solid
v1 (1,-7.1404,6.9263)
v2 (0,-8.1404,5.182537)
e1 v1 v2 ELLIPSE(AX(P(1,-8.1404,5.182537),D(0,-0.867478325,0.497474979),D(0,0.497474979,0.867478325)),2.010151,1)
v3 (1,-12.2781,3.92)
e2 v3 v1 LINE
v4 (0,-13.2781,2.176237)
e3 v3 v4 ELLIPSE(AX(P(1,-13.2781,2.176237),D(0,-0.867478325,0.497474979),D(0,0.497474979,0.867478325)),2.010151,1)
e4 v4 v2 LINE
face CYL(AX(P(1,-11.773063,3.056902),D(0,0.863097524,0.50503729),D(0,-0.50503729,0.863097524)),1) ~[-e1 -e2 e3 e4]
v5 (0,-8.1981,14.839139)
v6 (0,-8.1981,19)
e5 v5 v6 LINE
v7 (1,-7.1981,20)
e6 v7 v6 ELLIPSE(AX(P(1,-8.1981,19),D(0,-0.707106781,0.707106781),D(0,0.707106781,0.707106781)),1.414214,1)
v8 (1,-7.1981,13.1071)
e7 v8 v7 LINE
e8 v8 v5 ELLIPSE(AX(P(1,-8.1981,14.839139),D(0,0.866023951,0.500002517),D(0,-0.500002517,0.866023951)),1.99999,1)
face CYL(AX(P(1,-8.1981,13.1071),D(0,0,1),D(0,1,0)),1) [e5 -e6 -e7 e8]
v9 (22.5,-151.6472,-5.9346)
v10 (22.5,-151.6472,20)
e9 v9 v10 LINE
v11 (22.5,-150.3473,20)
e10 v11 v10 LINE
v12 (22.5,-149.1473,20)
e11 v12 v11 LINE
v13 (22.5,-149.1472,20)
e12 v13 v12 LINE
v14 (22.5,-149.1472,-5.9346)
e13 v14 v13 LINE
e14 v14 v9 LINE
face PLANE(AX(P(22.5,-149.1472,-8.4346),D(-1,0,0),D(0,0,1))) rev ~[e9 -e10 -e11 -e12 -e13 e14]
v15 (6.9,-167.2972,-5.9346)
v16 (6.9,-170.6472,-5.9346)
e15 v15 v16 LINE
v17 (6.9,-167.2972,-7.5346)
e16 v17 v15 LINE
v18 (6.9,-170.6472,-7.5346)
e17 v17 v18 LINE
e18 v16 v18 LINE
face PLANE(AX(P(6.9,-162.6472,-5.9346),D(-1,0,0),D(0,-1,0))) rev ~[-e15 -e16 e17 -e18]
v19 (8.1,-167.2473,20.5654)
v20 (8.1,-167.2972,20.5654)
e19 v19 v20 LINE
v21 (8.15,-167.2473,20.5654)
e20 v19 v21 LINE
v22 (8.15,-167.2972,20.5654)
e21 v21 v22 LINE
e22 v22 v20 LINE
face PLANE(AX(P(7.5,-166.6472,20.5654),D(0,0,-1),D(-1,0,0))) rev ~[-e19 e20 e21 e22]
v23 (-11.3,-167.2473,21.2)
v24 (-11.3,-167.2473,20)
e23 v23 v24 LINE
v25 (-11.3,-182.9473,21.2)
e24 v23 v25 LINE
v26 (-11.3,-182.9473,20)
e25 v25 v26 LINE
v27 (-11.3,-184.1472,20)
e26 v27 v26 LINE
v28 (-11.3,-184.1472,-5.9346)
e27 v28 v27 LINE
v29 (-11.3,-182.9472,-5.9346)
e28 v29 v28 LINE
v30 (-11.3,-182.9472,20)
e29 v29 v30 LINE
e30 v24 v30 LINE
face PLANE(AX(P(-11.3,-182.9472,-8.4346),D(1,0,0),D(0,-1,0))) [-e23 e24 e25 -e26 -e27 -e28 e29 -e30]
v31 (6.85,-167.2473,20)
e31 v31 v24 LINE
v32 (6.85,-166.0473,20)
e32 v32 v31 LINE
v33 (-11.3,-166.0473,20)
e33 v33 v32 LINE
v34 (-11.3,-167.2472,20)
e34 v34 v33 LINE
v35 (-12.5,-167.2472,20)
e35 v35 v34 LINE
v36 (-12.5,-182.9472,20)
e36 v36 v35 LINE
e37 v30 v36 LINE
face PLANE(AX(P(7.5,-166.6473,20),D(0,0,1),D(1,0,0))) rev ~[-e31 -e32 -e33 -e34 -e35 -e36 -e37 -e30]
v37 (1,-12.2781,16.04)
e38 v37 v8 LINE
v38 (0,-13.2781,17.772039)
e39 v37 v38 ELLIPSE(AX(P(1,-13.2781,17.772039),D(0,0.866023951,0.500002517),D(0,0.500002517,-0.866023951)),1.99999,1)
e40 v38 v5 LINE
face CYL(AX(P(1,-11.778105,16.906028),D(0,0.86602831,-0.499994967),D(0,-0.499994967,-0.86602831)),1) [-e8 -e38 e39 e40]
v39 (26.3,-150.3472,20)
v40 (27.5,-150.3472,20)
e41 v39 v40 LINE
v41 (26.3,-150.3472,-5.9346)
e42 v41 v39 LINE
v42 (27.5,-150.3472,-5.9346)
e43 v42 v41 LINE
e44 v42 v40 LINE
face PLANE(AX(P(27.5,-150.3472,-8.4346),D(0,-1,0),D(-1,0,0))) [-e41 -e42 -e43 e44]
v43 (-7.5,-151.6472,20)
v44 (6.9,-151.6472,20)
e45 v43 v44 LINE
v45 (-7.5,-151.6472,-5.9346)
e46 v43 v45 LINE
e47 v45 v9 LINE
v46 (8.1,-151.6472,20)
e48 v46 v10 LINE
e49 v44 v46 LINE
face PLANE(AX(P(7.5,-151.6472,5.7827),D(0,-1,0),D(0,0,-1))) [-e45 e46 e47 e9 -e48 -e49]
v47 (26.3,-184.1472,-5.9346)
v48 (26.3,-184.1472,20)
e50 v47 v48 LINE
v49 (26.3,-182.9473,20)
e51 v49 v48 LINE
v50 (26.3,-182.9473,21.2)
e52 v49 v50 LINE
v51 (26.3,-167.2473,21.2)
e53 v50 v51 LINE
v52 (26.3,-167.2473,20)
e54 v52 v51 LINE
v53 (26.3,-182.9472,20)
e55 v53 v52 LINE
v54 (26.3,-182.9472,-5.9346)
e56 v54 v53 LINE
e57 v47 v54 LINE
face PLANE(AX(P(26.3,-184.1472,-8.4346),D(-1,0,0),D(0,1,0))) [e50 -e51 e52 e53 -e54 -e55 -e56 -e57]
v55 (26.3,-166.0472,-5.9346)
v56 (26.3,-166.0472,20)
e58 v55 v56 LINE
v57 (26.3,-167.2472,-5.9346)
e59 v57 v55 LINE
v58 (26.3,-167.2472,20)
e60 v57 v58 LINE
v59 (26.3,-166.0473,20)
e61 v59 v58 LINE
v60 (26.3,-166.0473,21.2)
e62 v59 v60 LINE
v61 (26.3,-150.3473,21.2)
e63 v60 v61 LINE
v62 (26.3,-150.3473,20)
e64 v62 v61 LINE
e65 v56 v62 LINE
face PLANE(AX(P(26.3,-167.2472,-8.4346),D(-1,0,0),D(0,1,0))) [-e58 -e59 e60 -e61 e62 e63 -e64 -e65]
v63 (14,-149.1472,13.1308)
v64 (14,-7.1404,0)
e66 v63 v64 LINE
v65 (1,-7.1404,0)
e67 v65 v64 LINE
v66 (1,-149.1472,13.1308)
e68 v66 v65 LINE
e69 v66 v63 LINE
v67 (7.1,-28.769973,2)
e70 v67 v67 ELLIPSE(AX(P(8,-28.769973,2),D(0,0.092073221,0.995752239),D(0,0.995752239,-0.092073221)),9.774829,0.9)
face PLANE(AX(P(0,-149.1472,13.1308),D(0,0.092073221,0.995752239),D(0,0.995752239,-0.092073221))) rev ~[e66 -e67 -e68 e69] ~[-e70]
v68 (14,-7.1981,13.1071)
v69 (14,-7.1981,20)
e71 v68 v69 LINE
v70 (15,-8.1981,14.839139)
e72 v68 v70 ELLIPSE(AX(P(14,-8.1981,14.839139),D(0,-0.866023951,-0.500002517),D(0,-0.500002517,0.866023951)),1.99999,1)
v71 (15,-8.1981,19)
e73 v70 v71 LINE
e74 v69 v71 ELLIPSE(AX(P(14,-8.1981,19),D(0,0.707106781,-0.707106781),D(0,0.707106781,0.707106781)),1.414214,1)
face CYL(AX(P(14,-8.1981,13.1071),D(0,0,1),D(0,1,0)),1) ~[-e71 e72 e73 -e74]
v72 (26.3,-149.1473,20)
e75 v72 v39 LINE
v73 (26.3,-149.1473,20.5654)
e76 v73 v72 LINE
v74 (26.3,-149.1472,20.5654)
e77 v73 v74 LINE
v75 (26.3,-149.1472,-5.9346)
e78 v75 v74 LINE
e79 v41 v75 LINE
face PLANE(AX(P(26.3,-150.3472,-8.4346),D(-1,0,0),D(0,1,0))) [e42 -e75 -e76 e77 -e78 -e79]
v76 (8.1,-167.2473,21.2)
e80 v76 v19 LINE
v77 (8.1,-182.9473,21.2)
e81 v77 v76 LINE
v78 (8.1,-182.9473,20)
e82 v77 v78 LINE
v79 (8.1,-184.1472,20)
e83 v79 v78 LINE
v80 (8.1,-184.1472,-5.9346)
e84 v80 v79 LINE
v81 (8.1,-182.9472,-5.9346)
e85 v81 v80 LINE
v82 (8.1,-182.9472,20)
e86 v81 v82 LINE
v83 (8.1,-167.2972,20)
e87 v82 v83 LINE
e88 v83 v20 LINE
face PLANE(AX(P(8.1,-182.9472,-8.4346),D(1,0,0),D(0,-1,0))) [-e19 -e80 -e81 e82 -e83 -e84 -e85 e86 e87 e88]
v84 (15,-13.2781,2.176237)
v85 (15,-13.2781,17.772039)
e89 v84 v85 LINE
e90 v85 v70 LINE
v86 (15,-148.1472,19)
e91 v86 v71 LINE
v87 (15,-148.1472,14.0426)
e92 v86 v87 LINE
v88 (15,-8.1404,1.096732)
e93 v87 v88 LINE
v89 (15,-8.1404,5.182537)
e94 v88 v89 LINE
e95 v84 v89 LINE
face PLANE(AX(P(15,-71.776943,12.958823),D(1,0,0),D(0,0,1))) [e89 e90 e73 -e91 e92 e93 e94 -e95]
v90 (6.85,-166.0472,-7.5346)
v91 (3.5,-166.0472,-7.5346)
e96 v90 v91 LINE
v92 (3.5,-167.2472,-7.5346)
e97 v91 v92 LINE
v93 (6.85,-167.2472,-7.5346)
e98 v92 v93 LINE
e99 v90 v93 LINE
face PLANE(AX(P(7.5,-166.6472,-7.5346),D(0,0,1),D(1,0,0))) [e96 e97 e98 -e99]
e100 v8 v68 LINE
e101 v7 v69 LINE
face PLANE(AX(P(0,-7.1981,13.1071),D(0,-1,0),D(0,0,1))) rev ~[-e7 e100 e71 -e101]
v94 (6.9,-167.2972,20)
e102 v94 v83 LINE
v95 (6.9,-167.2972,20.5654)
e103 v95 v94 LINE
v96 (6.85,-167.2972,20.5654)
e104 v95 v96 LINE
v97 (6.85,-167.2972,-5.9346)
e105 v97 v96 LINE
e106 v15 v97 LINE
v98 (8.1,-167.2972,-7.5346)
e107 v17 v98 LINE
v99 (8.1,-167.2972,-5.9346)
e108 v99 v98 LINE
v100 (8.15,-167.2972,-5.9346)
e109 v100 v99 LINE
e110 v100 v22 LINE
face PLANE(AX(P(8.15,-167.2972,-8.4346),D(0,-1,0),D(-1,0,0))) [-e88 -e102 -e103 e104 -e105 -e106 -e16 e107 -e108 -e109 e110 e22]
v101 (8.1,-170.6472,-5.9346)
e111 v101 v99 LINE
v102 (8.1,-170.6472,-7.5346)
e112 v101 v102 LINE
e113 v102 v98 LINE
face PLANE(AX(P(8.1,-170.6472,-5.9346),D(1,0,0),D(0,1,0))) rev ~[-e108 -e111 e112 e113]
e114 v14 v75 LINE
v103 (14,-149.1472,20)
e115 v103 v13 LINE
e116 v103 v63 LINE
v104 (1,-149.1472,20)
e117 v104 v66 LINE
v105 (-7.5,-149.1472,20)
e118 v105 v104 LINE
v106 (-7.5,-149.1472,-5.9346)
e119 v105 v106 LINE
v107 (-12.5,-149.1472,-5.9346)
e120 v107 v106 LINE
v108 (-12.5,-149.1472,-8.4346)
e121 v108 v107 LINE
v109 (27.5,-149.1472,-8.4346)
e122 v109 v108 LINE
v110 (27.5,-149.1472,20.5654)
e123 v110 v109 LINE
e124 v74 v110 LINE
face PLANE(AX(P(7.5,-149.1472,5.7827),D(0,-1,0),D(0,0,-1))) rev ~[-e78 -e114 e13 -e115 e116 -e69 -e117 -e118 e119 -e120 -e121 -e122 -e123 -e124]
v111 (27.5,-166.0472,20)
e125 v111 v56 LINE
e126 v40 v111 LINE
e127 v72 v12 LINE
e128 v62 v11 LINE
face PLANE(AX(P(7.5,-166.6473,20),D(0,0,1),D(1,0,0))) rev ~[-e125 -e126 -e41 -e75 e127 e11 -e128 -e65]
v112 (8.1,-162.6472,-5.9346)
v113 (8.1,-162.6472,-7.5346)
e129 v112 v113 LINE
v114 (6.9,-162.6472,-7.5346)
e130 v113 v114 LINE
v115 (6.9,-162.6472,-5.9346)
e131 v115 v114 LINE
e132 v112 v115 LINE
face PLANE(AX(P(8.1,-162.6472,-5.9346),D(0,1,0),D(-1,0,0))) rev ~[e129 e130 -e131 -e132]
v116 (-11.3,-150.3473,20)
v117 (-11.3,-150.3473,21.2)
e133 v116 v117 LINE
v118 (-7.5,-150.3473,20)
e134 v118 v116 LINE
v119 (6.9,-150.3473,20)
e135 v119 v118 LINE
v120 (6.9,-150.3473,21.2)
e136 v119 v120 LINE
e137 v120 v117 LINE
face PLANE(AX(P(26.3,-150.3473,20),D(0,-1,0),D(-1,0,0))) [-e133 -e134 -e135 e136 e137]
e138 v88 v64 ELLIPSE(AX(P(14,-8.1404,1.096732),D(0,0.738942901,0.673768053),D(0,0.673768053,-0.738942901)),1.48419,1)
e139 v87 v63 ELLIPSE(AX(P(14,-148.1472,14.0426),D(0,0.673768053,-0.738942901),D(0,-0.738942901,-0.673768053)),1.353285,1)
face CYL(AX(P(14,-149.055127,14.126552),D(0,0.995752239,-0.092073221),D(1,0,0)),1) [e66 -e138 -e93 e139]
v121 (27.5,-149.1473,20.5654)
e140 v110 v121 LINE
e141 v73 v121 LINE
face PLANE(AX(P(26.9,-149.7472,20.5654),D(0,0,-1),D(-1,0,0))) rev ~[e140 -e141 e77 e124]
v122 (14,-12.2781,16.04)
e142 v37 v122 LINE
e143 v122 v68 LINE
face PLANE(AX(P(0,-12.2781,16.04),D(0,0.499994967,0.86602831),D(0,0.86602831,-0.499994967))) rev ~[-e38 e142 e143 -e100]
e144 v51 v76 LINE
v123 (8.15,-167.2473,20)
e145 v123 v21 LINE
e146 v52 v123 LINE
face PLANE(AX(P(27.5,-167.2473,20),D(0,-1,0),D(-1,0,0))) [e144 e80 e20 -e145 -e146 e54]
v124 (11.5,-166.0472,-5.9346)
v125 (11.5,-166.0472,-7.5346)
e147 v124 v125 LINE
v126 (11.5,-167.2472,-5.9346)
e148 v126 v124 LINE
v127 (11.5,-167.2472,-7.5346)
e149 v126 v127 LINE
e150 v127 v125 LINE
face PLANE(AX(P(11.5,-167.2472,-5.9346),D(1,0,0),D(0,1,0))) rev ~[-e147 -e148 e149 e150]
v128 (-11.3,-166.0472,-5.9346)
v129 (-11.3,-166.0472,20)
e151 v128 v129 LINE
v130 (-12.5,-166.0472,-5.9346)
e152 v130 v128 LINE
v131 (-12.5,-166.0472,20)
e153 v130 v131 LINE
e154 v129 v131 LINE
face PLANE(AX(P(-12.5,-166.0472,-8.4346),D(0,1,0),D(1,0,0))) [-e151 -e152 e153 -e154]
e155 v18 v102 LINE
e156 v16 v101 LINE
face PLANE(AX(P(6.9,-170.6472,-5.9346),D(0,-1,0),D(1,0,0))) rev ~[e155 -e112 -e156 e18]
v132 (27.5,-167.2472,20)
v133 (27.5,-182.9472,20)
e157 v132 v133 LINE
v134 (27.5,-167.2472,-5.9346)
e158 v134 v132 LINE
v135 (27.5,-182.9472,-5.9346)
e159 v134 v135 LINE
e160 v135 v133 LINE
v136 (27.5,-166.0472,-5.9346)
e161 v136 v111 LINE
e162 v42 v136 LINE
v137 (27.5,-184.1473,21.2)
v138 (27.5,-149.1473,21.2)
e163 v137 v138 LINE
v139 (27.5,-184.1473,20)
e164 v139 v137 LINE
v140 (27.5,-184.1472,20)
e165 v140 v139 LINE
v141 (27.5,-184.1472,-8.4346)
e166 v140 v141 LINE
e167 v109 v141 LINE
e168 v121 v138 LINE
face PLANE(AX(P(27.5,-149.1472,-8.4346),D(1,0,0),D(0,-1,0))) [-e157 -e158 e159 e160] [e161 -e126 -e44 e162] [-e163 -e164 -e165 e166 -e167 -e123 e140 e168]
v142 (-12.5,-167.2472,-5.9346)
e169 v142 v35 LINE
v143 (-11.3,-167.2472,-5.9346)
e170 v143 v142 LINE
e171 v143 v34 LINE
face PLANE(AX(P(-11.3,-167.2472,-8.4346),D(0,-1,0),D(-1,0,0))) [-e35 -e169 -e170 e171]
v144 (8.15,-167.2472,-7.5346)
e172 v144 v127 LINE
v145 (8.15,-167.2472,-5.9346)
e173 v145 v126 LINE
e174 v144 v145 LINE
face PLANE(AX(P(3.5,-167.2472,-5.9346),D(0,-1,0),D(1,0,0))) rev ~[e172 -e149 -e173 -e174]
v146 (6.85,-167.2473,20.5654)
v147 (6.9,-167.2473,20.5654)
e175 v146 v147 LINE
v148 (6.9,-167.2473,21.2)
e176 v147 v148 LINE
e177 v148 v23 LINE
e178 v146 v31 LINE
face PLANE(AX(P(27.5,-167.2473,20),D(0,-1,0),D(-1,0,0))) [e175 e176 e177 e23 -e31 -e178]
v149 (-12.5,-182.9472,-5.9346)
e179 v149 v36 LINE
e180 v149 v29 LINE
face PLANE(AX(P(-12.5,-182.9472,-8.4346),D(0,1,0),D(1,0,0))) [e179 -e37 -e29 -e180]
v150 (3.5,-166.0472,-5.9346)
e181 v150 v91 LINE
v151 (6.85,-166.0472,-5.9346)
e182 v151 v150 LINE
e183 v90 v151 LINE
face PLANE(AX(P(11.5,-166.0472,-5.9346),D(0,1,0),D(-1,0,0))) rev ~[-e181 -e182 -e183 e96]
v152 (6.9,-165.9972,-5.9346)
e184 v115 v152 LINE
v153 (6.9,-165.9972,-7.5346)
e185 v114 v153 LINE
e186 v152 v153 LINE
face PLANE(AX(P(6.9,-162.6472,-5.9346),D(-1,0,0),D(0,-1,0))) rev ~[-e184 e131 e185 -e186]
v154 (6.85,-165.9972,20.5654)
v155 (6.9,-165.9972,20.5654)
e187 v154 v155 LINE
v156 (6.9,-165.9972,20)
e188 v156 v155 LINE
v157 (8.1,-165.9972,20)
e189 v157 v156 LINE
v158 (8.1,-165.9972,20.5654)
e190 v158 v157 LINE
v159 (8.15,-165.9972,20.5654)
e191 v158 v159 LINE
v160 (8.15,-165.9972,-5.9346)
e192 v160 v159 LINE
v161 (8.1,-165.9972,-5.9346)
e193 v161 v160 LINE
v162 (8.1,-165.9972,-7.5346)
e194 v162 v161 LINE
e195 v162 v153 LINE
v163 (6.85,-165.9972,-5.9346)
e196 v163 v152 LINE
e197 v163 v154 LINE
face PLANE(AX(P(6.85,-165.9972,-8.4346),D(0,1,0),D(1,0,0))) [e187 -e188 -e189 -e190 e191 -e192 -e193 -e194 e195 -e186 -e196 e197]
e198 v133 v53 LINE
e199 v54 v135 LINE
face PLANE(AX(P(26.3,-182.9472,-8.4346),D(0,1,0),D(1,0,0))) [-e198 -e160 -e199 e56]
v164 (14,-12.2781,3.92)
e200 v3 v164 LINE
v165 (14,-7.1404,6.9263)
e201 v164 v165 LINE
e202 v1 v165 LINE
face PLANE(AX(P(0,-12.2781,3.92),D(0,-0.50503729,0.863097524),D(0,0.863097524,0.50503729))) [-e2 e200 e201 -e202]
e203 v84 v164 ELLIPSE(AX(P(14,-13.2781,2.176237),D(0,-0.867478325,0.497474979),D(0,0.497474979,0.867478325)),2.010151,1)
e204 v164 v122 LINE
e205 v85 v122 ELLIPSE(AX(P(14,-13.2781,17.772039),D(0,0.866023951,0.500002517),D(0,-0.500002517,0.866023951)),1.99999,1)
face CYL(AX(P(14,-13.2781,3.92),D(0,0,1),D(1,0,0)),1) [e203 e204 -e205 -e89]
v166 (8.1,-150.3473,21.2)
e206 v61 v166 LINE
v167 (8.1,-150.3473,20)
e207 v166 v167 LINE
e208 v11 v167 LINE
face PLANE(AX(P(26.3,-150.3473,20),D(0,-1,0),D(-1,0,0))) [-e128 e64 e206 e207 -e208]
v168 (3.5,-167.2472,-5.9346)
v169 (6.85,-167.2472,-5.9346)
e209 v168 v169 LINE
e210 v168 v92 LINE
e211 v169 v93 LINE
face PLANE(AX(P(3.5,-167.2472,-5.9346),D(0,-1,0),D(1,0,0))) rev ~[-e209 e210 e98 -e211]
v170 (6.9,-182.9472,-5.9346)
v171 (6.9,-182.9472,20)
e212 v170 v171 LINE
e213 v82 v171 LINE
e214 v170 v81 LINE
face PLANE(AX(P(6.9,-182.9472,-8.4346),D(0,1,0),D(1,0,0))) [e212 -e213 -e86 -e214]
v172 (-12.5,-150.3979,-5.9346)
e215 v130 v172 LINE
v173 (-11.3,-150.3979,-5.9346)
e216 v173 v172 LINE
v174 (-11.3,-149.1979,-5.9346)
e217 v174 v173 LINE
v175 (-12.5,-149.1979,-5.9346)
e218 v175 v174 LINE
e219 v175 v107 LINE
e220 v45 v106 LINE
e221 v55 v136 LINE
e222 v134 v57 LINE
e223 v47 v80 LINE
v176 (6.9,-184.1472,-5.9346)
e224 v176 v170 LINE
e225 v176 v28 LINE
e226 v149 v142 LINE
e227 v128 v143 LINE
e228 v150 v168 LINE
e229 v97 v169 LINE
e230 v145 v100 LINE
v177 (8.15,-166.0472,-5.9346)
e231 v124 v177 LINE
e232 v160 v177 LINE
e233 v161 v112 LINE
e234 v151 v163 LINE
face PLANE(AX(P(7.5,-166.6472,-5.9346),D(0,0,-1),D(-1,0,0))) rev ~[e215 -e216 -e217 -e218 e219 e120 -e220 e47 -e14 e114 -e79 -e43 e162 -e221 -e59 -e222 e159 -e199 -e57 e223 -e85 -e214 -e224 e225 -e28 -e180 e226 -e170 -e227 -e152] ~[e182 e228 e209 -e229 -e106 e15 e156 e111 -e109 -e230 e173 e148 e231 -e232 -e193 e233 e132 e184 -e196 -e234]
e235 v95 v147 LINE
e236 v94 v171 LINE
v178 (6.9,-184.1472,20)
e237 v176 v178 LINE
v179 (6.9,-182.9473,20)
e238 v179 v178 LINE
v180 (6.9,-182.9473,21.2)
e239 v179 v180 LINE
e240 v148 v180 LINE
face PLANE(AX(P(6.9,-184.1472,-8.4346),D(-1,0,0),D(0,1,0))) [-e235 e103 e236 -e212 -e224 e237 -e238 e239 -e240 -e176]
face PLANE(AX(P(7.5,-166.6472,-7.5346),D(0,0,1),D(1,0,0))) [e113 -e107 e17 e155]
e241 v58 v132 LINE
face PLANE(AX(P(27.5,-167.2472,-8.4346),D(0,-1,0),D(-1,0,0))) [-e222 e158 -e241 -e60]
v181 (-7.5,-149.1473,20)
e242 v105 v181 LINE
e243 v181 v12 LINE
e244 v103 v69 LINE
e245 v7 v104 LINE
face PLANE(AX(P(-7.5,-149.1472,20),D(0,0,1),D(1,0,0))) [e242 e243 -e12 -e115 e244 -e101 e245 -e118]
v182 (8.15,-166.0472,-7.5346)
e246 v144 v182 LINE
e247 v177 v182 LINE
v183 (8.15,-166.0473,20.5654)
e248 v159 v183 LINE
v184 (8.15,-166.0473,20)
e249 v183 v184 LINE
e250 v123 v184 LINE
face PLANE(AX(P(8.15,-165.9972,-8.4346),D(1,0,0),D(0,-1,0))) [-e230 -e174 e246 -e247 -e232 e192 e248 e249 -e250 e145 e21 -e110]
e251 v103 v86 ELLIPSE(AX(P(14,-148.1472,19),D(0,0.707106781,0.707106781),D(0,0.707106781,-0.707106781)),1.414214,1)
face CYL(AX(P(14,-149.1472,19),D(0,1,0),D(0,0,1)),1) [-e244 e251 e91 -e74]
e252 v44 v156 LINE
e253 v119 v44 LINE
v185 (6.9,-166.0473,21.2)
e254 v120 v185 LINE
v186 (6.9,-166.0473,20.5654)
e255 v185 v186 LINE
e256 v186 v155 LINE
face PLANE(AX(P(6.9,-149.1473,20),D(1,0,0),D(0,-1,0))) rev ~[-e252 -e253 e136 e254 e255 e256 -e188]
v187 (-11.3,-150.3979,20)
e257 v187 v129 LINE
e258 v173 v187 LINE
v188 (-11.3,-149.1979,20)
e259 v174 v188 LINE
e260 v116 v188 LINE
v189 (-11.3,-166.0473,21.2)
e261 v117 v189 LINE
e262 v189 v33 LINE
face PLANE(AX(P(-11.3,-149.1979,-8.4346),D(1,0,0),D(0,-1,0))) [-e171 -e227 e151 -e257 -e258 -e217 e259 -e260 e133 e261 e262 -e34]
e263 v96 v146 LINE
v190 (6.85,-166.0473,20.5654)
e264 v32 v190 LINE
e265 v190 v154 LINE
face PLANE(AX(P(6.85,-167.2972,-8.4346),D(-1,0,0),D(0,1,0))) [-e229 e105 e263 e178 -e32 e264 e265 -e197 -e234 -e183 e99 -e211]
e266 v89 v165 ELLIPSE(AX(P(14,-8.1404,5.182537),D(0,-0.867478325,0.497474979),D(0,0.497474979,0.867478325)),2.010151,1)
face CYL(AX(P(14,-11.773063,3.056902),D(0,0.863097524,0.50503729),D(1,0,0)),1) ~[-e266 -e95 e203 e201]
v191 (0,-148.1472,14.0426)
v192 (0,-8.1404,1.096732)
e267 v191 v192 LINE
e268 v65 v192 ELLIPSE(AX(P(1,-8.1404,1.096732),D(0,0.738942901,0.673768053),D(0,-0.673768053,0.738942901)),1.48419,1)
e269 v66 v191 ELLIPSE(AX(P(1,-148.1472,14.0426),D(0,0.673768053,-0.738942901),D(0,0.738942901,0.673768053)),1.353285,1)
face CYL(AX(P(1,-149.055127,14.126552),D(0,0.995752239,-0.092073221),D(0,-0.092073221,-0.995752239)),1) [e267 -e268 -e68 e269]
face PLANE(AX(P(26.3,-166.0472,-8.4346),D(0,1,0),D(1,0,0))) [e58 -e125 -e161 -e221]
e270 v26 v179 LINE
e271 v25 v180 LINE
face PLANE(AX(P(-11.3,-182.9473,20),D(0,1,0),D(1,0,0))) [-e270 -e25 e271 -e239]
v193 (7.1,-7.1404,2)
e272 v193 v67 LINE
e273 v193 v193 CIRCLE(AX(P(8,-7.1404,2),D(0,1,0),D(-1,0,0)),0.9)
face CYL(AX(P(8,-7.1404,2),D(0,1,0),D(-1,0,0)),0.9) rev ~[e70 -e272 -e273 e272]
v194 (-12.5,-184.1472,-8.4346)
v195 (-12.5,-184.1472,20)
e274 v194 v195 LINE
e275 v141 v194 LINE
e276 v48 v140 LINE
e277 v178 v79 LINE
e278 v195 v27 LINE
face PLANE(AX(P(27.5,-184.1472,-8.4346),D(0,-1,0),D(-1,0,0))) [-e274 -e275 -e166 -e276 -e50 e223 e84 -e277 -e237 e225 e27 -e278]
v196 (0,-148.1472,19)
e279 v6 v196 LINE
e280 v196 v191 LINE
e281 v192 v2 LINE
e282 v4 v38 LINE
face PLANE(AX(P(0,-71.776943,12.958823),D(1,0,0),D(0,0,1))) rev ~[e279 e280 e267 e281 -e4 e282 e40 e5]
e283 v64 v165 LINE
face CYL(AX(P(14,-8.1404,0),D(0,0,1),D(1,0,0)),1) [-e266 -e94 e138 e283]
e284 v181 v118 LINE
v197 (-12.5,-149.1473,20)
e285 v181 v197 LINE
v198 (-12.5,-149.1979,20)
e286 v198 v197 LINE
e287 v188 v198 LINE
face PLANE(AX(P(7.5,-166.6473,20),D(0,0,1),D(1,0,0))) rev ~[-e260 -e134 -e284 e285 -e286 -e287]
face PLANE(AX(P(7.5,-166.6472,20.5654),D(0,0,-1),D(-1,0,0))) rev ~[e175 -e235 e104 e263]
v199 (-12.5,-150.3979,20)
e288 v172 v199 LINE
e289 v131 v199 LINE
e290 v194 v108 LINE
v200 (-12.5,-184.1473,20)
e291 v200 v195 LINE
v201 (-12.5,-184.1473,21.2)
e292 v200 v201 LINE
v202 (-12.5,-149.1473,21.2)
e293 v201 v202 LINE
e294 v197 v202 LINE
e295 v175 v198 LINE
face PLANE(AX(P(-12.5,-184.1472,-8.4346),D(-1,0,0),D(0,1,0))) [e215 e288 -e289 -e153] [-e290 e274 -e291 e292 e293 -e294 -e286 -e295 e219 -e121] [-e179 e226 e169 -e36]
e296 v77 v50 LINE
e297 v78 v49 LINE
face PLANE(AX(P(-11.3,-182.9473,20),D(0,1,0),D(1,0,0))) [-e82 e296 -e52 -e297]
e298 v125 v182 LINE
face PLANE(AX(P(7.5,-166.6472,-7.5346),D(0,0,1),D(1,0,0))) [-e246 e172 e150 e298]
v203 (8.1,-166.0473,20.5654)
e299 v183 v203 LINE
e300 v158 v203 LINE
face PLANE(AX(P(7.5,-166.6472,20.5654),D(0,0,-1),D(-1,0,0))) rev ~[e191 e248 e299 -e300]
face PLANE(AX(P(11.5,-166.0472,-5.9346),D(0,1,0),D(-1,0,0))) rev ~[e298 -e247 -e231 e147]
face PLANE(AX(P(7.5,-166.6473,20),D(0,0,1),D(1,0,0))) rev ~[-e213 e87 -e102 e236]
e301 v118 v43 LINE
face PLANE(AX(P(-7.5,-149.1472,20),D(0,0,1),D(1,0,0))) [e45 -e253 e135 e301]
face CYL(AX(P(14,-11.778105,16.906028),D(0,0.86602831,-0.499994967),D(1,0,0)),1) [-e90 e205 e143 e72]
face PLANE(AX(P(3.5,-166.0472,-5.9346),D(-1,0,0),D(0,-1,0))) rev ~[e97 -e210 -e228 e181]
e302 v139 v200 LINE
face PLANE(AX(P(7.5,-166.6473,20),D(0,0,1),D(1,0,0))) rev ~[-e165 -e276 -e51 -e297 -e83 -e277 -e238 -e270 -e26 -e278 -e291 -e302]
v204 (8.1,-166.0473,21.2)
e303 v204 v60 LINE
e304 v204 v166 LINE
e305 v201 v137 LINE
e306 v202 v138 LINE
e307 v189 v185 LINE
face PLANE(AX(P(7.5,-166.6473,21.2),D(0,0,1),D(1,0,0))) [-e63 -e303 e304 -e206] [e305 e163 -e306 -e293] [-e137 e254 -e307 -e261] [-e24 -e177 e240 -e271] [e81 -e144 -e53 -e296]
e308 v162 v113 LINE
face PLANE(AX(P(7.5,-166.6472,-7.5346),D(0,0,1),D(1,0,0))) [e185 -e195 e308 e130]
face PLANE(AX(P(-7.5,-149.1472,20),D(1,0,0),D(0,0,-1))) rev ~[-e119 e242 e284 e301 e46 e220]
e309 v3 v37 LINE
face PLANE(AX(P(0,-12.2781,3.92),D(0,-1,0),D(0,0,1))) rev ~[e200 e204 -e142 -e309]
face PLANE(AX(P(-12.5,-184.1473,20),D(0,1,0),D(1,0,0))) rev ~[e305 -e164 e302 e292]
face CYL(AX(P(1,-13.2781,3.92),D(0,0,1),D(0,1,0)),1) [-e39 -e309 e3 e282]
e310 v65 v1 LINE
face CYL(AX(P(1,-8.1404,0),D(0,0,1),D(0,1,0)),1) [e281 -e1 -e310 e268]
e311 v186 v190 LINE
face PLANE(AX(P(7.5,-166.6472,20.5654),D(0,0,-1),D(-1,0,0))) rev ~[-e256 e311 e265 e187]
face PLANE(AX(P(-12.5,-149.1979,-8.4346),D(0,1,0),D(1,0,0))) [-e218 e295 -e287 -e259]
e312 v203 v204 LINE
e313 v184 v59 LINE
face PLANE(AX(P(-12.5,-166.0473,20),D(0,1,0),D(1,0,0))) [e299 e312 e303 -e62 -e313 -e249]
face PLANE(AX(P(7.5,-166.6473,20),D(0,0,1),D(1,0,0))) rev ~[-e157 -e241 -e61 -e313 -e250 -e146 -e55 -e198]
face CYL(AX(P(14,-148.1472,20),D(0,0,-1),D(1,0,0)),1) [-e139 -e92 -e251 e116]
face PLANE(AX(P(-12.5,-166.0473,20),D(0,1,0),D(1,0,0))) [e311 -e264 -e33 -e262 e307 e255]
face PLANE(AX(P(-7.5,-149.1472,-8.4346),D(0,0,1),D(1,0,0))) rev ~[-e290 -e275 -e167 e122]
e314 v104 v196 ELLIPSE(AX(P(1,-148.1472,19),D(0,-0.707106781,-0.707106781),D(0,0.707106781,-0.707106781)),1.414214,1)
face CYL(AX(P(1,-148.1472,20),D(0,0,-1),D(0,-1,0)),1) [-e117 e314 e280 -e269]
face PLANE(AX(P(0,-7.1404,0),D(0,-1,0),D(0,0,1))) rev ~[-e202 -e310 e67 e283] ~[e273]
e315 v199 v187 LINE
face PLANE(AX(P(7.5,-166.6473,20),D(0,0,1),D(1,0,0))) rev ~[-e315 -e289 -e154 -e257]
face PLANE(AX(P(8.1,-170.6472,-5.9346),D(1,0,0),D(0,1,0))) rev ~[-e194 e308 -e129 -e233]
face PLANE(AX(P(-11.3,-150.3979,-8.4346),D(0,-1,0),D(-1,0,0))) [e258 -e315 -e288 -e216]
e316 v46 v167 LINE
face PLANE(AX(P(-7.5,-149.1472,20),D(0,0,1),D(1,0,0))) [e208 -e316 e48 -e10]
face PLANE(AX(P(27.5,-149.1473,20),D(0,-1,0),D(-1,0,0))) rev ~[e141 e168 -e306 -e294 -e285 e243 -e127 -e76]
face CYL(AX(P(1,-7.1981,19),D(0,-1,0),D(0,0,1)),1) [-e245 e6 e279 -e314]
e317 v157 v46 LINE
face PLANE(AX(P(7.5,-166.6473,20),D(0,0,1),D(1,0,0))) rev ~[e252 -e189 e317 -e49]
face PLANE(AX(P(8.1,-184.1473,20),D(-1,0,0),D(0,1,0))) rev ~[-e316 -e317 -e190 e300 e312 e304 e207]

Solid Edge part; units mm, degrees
sketch "Sketch1" plane through (0, 0, 0) normal (1, 0, 0) x (0, 1, 0)
  line L0 (-7.1981, 20) -> (-142.1404, 20)
  line L1 (-142.1404, 20) -> (-149.1472, 20)
  line L2 (-149.1472, 20) -> (-149.1472, 13.1308)
  line L3 (-149.1472, 13.1308) -> (-7.1404, 0)
  line L4 (-7.1404, 0) -> (-7.1404, 6.9263)
  line L5 (-12.2781, 3.92) -> (-7.1404, 6.9263)
  line L6 (-12.2781, 3.92) -> (-12.2781, 16.04)
  line L7 (-12.2781, 16.04) -> (-7.1981, 13.1071)
  line L8 (-7.1981, 13.1071) -> (-7.1981, 20)
extrude "Protrusion1" add sketch "Sketch1" along normal blind 15
fillet "Round_2" radius 1 8 edges at (0, -7.1981, 16.5535) (0, -9.7381, 14.5735) (0, -12.2781, 9.98) (0, -9.7092, 5.4231) (0, -7.1404, 3.4631) (0, -78.1438, 6.5654) (0, -149.1472, 16.5654) (0, -78.1727, 20)
sketch "Sketch2" plane through (7.5, -7.1404, 3.4631) normal (0, 1, 0) x (-1, 0, 0)
  circle A0 centre (-0.5, -1.4631) radius 0.9
extrude "ExtrudedCutout_1" cut sketch "Sketch2" against normal blind 39
fillet "Round_4" radius 1 8 edges at (15, -7.1981, 16.5535) (15, -78.1727, 20) (15, -149.1472, 16.5654) (15, -78.1438, 6.5654) (15, -7.1404, 3.4631) (15, -9.7092, 5.4231) (15, -12.2781, 9.98) (15, -9.7381, 14.5735)
sketch "Sketch3" plane through (7.5, -149.1472, 16.5654) normal (0, -1, 0) x (0, 0, 1)
  line L0 (3.4346, 15) -> (-25, 15)
  line L1 (-25, 15) -> (-25, -15)
  line L2 (-25, -15) -> (3.4346, -15)
  line L3 (3.4346, 15) -> (3.4346, -15)
extrude "Anschlussplatte" add sketch "Sketch3" along normal blind 2.5
sketch "Sketch4" plane through (7.5, -150.3972, -8.4346) normal (0, 0, -1) x (1, 0, 0)
  line L0 (-20, -1.25) -> (20, -1.25)
  line L1 (20, -1.25) -> (20, 33.75)
  line L2 (20, 33.75) -> (-20, 33.75)
  line L3 (-20, 33.75) -> (-20, -1.25)
extrude "ExtrudedProtrusion_12" add sketch "Sketch4" against normal blind 2.5
sketch "Sketch5" plane through (7.5, -79.4227, 20) normal (0, 0, 1) x (1, 0, 0)
  line L0 (20, -69.7246) -> (-20, -69.7246)
  line L1 (-20, -69.7246) -> (-20, -104.7246)
  line L2 (-20, -104.7246) -> (20, -104.7246)
  line L3 (20, -104.7246) -> (20, -69.7246)
  line L4 (18.8, -70.9246) -> (-18.8, -70.9246)
  line L5 (-18.8, -70.9246) -> (-18.8, -103.5246)
  line L6 (-18.8, -103.5246) -> (18.8, -103.5246)
  line L7 (18.8, -103.5246) -> (18.8, -70.9246)
  line L8 (-0.6, -69.7246) -> (-0.6, -104.7246)
  line L9 (-0.6, -104.7246) -> (0.6, -104.7246)
  line L10 (0.6, -104.7246) -> (0.6, -69.7246)
  line L11 (0.6, -69.7246) -> (-0.6, -69.7246)
  line L12 (20, -87.8246) -> (-20, -87.8246)
  line L13 (-20, -87.8246) -> (-20, -86.6246)
  line L14 (-20, -86.6246) -> (20, -86.6246)
  line L15 (20, -86.6246) -> (20, -87.8246)
  dimension "D1" = 37.6
  dimension "D2" = 32.6
  dimension "D3" = 1.2
  dimension "D4" = 1.2
  dimension "D5" = 35
extrude "ExtrudedProtrusion_13" add sketch "Sketch5" along normal blind 1.2
sketch "Sketch6" plane through (7.5, -150.3972, -8.4346) normal (0, 0, -1) x (1, 0, 0)
  line L0 (-18.8, 32.55) -> (-18.8, 33.75)
  line L1 (-18.8, 33.75) -> (-20, 33.75)
  line L2 (-20, 33.75) -> (-20, 32.55)
  line L3 (-20, 32.55) -> (-18.8, 32.55)
  line L4 (-20, 16.85) -> (-20, 15.65)
  line L5 (-20, 15.65) -> (-18.8, 15.65)
  line L6 (-18.8, 15.65) -> (-18.8, 16.85)
  line L7 (-18.8, 16.85) -> (-20, 16.85)
  line L8 (18.8, 16.85) -> (18.8, 15.65)
  line L9 (18.8, 15.65) -> (20, 15.65)
  line L10 (20, 15.65) -> (20, 16.85)
  line L11 (20, 16.85) -> (18.8, 16.85)
  line L12 (18.8, 33.75) -> (18.8, 32.55)
  line L13 (18.8, 32.55) -> (20, 32.55)
  line L14 (20, 32.55) -> (20, 33.75)
  line L15 (20, 33.75) -> (18.8, 33.75)
  dimension "D1" = 40
  dimension "D2" = 35
  dimension "D3" = 1.2
  dimension "D4" = 1.2
  dimension "D5" = 1.2
  dimension "D6" = 1.2
  dimension "D7" = 1.2
  dimension "D8" = 1.2
  dimension "D9" = 1.2
  dimension "D10" = 1.2
  dimension "D11" = 1.2
  dimension "D12" = 1.2
  dimension "D13" = 1.3
  dimension "D14" = 1.3
extrude "Stuetzen" add sketch "Sketch6" against normal blind 29
sketch "Sketch7" plane through (7.5, -166.6472, -5.9346) normal (0, 0, 1) x (0, -1, 0)
  line L0 (-0.6, 4) -> (-0.6, -4)
  line L1 (-0.6, -4) -> (0.6, -4)
  line L2 (0.6, -4) -> (0.6, 4)
  line L3 (0.6, 4) -> (-0.6, 4)
  line L4 (4, 0.6) -> (-4, 0.6)
  line L5 (-4, 0.6) -> (-4, -0.6)
  line L6 (-4, -0.6) -> (4, -0.6)
  line L7 (4, -0.6) -> (4, 0.6)
  dimension "D1" = 8
  dimension "D2" = 1.2
  dimension "D3" = 1.2
  dimension "D4" = 8
extrude "ExtrudedCutout_11" cut sketch "Sketch7" against normal blind 1.6
sketch "Sketch8" plane through (7.5, -150.3972, -8.4346) normal (0, 0, -1) x (1, 0, 0)
  line L0 (20, -0.05) -> (18.8, -0.05)
  line L1 (18.8, -0.05) -> (18.8, -1.25)
  line L2 (18.8, -1.25) -> (20, -1.25)
  line L3 (20, -1.25) -> (20, -0.05)
  line L4 (-18.8, 0.0007) -> (-20, 0.0007)
  line L5 (-20, 0.0007) -> (-20, -1.1993)
  line L6 (-20, -1.1993) -> (-18.8, -1.1993)
  line L7 (-18.8, -1.1993) -> (-18.8, 0.0007)
  dimension "D1" = 40
  dimension "D2" = 35
  dimension "D3" = 1.2
  dimension "D4" = 1.2
  dimension "D5" = 1.2
  dimension "D6" = 1.2
  dimension "D7" = 1.2
  dimension "D8" = 1.2
  dimension "D9" = 1.2
  dimension "D10" = 1.2
  dimension "D11" = 1.2
  dimension "D12" = 1.2
  dimension "D13" = 1.3
  dimension "D14" = 1.3
extrude "ExtrudedProtrusion_15" add sketch "Sketch8" against normal blind 29
sketch "Sketch9" plane through (7.5, -150.3972, -8.4346) normal (0, 0, -1) x (1, 0, 0)
  line L0 (0.65, 15.6) -> (0.65, 16.9)
  line L1 (0.65, 16.9) -> (-0.65, 16.9)
  line L2 (-0.65, 16.9) -> (-0.65, 15.6)
  line L3 (-0.65, 15.6) -> (0.65, 15.6)
extrude "ExtrudedProtrusion_19" add sketch "Sketch9" against normal blind 29
sketch "Sketch10" plane through (7.5, -150.3972, -8.4346) normal (0, 0, -1) x (1, 0, 0)
  line L0 (0.6, 32.55) -> (0.6, 33.75)
  line L1 (0.6, 33.75) -> (-0.6, 33.75)
  line L2 (-0.6, 33.75) -> (-0.6, 32.55)
  line L3 (-0.6, 32.55) -> (0.6, 32.55)
extrude "ExtrudedProtrusion_20" add sketch "Sketch10" against normal blind 29
